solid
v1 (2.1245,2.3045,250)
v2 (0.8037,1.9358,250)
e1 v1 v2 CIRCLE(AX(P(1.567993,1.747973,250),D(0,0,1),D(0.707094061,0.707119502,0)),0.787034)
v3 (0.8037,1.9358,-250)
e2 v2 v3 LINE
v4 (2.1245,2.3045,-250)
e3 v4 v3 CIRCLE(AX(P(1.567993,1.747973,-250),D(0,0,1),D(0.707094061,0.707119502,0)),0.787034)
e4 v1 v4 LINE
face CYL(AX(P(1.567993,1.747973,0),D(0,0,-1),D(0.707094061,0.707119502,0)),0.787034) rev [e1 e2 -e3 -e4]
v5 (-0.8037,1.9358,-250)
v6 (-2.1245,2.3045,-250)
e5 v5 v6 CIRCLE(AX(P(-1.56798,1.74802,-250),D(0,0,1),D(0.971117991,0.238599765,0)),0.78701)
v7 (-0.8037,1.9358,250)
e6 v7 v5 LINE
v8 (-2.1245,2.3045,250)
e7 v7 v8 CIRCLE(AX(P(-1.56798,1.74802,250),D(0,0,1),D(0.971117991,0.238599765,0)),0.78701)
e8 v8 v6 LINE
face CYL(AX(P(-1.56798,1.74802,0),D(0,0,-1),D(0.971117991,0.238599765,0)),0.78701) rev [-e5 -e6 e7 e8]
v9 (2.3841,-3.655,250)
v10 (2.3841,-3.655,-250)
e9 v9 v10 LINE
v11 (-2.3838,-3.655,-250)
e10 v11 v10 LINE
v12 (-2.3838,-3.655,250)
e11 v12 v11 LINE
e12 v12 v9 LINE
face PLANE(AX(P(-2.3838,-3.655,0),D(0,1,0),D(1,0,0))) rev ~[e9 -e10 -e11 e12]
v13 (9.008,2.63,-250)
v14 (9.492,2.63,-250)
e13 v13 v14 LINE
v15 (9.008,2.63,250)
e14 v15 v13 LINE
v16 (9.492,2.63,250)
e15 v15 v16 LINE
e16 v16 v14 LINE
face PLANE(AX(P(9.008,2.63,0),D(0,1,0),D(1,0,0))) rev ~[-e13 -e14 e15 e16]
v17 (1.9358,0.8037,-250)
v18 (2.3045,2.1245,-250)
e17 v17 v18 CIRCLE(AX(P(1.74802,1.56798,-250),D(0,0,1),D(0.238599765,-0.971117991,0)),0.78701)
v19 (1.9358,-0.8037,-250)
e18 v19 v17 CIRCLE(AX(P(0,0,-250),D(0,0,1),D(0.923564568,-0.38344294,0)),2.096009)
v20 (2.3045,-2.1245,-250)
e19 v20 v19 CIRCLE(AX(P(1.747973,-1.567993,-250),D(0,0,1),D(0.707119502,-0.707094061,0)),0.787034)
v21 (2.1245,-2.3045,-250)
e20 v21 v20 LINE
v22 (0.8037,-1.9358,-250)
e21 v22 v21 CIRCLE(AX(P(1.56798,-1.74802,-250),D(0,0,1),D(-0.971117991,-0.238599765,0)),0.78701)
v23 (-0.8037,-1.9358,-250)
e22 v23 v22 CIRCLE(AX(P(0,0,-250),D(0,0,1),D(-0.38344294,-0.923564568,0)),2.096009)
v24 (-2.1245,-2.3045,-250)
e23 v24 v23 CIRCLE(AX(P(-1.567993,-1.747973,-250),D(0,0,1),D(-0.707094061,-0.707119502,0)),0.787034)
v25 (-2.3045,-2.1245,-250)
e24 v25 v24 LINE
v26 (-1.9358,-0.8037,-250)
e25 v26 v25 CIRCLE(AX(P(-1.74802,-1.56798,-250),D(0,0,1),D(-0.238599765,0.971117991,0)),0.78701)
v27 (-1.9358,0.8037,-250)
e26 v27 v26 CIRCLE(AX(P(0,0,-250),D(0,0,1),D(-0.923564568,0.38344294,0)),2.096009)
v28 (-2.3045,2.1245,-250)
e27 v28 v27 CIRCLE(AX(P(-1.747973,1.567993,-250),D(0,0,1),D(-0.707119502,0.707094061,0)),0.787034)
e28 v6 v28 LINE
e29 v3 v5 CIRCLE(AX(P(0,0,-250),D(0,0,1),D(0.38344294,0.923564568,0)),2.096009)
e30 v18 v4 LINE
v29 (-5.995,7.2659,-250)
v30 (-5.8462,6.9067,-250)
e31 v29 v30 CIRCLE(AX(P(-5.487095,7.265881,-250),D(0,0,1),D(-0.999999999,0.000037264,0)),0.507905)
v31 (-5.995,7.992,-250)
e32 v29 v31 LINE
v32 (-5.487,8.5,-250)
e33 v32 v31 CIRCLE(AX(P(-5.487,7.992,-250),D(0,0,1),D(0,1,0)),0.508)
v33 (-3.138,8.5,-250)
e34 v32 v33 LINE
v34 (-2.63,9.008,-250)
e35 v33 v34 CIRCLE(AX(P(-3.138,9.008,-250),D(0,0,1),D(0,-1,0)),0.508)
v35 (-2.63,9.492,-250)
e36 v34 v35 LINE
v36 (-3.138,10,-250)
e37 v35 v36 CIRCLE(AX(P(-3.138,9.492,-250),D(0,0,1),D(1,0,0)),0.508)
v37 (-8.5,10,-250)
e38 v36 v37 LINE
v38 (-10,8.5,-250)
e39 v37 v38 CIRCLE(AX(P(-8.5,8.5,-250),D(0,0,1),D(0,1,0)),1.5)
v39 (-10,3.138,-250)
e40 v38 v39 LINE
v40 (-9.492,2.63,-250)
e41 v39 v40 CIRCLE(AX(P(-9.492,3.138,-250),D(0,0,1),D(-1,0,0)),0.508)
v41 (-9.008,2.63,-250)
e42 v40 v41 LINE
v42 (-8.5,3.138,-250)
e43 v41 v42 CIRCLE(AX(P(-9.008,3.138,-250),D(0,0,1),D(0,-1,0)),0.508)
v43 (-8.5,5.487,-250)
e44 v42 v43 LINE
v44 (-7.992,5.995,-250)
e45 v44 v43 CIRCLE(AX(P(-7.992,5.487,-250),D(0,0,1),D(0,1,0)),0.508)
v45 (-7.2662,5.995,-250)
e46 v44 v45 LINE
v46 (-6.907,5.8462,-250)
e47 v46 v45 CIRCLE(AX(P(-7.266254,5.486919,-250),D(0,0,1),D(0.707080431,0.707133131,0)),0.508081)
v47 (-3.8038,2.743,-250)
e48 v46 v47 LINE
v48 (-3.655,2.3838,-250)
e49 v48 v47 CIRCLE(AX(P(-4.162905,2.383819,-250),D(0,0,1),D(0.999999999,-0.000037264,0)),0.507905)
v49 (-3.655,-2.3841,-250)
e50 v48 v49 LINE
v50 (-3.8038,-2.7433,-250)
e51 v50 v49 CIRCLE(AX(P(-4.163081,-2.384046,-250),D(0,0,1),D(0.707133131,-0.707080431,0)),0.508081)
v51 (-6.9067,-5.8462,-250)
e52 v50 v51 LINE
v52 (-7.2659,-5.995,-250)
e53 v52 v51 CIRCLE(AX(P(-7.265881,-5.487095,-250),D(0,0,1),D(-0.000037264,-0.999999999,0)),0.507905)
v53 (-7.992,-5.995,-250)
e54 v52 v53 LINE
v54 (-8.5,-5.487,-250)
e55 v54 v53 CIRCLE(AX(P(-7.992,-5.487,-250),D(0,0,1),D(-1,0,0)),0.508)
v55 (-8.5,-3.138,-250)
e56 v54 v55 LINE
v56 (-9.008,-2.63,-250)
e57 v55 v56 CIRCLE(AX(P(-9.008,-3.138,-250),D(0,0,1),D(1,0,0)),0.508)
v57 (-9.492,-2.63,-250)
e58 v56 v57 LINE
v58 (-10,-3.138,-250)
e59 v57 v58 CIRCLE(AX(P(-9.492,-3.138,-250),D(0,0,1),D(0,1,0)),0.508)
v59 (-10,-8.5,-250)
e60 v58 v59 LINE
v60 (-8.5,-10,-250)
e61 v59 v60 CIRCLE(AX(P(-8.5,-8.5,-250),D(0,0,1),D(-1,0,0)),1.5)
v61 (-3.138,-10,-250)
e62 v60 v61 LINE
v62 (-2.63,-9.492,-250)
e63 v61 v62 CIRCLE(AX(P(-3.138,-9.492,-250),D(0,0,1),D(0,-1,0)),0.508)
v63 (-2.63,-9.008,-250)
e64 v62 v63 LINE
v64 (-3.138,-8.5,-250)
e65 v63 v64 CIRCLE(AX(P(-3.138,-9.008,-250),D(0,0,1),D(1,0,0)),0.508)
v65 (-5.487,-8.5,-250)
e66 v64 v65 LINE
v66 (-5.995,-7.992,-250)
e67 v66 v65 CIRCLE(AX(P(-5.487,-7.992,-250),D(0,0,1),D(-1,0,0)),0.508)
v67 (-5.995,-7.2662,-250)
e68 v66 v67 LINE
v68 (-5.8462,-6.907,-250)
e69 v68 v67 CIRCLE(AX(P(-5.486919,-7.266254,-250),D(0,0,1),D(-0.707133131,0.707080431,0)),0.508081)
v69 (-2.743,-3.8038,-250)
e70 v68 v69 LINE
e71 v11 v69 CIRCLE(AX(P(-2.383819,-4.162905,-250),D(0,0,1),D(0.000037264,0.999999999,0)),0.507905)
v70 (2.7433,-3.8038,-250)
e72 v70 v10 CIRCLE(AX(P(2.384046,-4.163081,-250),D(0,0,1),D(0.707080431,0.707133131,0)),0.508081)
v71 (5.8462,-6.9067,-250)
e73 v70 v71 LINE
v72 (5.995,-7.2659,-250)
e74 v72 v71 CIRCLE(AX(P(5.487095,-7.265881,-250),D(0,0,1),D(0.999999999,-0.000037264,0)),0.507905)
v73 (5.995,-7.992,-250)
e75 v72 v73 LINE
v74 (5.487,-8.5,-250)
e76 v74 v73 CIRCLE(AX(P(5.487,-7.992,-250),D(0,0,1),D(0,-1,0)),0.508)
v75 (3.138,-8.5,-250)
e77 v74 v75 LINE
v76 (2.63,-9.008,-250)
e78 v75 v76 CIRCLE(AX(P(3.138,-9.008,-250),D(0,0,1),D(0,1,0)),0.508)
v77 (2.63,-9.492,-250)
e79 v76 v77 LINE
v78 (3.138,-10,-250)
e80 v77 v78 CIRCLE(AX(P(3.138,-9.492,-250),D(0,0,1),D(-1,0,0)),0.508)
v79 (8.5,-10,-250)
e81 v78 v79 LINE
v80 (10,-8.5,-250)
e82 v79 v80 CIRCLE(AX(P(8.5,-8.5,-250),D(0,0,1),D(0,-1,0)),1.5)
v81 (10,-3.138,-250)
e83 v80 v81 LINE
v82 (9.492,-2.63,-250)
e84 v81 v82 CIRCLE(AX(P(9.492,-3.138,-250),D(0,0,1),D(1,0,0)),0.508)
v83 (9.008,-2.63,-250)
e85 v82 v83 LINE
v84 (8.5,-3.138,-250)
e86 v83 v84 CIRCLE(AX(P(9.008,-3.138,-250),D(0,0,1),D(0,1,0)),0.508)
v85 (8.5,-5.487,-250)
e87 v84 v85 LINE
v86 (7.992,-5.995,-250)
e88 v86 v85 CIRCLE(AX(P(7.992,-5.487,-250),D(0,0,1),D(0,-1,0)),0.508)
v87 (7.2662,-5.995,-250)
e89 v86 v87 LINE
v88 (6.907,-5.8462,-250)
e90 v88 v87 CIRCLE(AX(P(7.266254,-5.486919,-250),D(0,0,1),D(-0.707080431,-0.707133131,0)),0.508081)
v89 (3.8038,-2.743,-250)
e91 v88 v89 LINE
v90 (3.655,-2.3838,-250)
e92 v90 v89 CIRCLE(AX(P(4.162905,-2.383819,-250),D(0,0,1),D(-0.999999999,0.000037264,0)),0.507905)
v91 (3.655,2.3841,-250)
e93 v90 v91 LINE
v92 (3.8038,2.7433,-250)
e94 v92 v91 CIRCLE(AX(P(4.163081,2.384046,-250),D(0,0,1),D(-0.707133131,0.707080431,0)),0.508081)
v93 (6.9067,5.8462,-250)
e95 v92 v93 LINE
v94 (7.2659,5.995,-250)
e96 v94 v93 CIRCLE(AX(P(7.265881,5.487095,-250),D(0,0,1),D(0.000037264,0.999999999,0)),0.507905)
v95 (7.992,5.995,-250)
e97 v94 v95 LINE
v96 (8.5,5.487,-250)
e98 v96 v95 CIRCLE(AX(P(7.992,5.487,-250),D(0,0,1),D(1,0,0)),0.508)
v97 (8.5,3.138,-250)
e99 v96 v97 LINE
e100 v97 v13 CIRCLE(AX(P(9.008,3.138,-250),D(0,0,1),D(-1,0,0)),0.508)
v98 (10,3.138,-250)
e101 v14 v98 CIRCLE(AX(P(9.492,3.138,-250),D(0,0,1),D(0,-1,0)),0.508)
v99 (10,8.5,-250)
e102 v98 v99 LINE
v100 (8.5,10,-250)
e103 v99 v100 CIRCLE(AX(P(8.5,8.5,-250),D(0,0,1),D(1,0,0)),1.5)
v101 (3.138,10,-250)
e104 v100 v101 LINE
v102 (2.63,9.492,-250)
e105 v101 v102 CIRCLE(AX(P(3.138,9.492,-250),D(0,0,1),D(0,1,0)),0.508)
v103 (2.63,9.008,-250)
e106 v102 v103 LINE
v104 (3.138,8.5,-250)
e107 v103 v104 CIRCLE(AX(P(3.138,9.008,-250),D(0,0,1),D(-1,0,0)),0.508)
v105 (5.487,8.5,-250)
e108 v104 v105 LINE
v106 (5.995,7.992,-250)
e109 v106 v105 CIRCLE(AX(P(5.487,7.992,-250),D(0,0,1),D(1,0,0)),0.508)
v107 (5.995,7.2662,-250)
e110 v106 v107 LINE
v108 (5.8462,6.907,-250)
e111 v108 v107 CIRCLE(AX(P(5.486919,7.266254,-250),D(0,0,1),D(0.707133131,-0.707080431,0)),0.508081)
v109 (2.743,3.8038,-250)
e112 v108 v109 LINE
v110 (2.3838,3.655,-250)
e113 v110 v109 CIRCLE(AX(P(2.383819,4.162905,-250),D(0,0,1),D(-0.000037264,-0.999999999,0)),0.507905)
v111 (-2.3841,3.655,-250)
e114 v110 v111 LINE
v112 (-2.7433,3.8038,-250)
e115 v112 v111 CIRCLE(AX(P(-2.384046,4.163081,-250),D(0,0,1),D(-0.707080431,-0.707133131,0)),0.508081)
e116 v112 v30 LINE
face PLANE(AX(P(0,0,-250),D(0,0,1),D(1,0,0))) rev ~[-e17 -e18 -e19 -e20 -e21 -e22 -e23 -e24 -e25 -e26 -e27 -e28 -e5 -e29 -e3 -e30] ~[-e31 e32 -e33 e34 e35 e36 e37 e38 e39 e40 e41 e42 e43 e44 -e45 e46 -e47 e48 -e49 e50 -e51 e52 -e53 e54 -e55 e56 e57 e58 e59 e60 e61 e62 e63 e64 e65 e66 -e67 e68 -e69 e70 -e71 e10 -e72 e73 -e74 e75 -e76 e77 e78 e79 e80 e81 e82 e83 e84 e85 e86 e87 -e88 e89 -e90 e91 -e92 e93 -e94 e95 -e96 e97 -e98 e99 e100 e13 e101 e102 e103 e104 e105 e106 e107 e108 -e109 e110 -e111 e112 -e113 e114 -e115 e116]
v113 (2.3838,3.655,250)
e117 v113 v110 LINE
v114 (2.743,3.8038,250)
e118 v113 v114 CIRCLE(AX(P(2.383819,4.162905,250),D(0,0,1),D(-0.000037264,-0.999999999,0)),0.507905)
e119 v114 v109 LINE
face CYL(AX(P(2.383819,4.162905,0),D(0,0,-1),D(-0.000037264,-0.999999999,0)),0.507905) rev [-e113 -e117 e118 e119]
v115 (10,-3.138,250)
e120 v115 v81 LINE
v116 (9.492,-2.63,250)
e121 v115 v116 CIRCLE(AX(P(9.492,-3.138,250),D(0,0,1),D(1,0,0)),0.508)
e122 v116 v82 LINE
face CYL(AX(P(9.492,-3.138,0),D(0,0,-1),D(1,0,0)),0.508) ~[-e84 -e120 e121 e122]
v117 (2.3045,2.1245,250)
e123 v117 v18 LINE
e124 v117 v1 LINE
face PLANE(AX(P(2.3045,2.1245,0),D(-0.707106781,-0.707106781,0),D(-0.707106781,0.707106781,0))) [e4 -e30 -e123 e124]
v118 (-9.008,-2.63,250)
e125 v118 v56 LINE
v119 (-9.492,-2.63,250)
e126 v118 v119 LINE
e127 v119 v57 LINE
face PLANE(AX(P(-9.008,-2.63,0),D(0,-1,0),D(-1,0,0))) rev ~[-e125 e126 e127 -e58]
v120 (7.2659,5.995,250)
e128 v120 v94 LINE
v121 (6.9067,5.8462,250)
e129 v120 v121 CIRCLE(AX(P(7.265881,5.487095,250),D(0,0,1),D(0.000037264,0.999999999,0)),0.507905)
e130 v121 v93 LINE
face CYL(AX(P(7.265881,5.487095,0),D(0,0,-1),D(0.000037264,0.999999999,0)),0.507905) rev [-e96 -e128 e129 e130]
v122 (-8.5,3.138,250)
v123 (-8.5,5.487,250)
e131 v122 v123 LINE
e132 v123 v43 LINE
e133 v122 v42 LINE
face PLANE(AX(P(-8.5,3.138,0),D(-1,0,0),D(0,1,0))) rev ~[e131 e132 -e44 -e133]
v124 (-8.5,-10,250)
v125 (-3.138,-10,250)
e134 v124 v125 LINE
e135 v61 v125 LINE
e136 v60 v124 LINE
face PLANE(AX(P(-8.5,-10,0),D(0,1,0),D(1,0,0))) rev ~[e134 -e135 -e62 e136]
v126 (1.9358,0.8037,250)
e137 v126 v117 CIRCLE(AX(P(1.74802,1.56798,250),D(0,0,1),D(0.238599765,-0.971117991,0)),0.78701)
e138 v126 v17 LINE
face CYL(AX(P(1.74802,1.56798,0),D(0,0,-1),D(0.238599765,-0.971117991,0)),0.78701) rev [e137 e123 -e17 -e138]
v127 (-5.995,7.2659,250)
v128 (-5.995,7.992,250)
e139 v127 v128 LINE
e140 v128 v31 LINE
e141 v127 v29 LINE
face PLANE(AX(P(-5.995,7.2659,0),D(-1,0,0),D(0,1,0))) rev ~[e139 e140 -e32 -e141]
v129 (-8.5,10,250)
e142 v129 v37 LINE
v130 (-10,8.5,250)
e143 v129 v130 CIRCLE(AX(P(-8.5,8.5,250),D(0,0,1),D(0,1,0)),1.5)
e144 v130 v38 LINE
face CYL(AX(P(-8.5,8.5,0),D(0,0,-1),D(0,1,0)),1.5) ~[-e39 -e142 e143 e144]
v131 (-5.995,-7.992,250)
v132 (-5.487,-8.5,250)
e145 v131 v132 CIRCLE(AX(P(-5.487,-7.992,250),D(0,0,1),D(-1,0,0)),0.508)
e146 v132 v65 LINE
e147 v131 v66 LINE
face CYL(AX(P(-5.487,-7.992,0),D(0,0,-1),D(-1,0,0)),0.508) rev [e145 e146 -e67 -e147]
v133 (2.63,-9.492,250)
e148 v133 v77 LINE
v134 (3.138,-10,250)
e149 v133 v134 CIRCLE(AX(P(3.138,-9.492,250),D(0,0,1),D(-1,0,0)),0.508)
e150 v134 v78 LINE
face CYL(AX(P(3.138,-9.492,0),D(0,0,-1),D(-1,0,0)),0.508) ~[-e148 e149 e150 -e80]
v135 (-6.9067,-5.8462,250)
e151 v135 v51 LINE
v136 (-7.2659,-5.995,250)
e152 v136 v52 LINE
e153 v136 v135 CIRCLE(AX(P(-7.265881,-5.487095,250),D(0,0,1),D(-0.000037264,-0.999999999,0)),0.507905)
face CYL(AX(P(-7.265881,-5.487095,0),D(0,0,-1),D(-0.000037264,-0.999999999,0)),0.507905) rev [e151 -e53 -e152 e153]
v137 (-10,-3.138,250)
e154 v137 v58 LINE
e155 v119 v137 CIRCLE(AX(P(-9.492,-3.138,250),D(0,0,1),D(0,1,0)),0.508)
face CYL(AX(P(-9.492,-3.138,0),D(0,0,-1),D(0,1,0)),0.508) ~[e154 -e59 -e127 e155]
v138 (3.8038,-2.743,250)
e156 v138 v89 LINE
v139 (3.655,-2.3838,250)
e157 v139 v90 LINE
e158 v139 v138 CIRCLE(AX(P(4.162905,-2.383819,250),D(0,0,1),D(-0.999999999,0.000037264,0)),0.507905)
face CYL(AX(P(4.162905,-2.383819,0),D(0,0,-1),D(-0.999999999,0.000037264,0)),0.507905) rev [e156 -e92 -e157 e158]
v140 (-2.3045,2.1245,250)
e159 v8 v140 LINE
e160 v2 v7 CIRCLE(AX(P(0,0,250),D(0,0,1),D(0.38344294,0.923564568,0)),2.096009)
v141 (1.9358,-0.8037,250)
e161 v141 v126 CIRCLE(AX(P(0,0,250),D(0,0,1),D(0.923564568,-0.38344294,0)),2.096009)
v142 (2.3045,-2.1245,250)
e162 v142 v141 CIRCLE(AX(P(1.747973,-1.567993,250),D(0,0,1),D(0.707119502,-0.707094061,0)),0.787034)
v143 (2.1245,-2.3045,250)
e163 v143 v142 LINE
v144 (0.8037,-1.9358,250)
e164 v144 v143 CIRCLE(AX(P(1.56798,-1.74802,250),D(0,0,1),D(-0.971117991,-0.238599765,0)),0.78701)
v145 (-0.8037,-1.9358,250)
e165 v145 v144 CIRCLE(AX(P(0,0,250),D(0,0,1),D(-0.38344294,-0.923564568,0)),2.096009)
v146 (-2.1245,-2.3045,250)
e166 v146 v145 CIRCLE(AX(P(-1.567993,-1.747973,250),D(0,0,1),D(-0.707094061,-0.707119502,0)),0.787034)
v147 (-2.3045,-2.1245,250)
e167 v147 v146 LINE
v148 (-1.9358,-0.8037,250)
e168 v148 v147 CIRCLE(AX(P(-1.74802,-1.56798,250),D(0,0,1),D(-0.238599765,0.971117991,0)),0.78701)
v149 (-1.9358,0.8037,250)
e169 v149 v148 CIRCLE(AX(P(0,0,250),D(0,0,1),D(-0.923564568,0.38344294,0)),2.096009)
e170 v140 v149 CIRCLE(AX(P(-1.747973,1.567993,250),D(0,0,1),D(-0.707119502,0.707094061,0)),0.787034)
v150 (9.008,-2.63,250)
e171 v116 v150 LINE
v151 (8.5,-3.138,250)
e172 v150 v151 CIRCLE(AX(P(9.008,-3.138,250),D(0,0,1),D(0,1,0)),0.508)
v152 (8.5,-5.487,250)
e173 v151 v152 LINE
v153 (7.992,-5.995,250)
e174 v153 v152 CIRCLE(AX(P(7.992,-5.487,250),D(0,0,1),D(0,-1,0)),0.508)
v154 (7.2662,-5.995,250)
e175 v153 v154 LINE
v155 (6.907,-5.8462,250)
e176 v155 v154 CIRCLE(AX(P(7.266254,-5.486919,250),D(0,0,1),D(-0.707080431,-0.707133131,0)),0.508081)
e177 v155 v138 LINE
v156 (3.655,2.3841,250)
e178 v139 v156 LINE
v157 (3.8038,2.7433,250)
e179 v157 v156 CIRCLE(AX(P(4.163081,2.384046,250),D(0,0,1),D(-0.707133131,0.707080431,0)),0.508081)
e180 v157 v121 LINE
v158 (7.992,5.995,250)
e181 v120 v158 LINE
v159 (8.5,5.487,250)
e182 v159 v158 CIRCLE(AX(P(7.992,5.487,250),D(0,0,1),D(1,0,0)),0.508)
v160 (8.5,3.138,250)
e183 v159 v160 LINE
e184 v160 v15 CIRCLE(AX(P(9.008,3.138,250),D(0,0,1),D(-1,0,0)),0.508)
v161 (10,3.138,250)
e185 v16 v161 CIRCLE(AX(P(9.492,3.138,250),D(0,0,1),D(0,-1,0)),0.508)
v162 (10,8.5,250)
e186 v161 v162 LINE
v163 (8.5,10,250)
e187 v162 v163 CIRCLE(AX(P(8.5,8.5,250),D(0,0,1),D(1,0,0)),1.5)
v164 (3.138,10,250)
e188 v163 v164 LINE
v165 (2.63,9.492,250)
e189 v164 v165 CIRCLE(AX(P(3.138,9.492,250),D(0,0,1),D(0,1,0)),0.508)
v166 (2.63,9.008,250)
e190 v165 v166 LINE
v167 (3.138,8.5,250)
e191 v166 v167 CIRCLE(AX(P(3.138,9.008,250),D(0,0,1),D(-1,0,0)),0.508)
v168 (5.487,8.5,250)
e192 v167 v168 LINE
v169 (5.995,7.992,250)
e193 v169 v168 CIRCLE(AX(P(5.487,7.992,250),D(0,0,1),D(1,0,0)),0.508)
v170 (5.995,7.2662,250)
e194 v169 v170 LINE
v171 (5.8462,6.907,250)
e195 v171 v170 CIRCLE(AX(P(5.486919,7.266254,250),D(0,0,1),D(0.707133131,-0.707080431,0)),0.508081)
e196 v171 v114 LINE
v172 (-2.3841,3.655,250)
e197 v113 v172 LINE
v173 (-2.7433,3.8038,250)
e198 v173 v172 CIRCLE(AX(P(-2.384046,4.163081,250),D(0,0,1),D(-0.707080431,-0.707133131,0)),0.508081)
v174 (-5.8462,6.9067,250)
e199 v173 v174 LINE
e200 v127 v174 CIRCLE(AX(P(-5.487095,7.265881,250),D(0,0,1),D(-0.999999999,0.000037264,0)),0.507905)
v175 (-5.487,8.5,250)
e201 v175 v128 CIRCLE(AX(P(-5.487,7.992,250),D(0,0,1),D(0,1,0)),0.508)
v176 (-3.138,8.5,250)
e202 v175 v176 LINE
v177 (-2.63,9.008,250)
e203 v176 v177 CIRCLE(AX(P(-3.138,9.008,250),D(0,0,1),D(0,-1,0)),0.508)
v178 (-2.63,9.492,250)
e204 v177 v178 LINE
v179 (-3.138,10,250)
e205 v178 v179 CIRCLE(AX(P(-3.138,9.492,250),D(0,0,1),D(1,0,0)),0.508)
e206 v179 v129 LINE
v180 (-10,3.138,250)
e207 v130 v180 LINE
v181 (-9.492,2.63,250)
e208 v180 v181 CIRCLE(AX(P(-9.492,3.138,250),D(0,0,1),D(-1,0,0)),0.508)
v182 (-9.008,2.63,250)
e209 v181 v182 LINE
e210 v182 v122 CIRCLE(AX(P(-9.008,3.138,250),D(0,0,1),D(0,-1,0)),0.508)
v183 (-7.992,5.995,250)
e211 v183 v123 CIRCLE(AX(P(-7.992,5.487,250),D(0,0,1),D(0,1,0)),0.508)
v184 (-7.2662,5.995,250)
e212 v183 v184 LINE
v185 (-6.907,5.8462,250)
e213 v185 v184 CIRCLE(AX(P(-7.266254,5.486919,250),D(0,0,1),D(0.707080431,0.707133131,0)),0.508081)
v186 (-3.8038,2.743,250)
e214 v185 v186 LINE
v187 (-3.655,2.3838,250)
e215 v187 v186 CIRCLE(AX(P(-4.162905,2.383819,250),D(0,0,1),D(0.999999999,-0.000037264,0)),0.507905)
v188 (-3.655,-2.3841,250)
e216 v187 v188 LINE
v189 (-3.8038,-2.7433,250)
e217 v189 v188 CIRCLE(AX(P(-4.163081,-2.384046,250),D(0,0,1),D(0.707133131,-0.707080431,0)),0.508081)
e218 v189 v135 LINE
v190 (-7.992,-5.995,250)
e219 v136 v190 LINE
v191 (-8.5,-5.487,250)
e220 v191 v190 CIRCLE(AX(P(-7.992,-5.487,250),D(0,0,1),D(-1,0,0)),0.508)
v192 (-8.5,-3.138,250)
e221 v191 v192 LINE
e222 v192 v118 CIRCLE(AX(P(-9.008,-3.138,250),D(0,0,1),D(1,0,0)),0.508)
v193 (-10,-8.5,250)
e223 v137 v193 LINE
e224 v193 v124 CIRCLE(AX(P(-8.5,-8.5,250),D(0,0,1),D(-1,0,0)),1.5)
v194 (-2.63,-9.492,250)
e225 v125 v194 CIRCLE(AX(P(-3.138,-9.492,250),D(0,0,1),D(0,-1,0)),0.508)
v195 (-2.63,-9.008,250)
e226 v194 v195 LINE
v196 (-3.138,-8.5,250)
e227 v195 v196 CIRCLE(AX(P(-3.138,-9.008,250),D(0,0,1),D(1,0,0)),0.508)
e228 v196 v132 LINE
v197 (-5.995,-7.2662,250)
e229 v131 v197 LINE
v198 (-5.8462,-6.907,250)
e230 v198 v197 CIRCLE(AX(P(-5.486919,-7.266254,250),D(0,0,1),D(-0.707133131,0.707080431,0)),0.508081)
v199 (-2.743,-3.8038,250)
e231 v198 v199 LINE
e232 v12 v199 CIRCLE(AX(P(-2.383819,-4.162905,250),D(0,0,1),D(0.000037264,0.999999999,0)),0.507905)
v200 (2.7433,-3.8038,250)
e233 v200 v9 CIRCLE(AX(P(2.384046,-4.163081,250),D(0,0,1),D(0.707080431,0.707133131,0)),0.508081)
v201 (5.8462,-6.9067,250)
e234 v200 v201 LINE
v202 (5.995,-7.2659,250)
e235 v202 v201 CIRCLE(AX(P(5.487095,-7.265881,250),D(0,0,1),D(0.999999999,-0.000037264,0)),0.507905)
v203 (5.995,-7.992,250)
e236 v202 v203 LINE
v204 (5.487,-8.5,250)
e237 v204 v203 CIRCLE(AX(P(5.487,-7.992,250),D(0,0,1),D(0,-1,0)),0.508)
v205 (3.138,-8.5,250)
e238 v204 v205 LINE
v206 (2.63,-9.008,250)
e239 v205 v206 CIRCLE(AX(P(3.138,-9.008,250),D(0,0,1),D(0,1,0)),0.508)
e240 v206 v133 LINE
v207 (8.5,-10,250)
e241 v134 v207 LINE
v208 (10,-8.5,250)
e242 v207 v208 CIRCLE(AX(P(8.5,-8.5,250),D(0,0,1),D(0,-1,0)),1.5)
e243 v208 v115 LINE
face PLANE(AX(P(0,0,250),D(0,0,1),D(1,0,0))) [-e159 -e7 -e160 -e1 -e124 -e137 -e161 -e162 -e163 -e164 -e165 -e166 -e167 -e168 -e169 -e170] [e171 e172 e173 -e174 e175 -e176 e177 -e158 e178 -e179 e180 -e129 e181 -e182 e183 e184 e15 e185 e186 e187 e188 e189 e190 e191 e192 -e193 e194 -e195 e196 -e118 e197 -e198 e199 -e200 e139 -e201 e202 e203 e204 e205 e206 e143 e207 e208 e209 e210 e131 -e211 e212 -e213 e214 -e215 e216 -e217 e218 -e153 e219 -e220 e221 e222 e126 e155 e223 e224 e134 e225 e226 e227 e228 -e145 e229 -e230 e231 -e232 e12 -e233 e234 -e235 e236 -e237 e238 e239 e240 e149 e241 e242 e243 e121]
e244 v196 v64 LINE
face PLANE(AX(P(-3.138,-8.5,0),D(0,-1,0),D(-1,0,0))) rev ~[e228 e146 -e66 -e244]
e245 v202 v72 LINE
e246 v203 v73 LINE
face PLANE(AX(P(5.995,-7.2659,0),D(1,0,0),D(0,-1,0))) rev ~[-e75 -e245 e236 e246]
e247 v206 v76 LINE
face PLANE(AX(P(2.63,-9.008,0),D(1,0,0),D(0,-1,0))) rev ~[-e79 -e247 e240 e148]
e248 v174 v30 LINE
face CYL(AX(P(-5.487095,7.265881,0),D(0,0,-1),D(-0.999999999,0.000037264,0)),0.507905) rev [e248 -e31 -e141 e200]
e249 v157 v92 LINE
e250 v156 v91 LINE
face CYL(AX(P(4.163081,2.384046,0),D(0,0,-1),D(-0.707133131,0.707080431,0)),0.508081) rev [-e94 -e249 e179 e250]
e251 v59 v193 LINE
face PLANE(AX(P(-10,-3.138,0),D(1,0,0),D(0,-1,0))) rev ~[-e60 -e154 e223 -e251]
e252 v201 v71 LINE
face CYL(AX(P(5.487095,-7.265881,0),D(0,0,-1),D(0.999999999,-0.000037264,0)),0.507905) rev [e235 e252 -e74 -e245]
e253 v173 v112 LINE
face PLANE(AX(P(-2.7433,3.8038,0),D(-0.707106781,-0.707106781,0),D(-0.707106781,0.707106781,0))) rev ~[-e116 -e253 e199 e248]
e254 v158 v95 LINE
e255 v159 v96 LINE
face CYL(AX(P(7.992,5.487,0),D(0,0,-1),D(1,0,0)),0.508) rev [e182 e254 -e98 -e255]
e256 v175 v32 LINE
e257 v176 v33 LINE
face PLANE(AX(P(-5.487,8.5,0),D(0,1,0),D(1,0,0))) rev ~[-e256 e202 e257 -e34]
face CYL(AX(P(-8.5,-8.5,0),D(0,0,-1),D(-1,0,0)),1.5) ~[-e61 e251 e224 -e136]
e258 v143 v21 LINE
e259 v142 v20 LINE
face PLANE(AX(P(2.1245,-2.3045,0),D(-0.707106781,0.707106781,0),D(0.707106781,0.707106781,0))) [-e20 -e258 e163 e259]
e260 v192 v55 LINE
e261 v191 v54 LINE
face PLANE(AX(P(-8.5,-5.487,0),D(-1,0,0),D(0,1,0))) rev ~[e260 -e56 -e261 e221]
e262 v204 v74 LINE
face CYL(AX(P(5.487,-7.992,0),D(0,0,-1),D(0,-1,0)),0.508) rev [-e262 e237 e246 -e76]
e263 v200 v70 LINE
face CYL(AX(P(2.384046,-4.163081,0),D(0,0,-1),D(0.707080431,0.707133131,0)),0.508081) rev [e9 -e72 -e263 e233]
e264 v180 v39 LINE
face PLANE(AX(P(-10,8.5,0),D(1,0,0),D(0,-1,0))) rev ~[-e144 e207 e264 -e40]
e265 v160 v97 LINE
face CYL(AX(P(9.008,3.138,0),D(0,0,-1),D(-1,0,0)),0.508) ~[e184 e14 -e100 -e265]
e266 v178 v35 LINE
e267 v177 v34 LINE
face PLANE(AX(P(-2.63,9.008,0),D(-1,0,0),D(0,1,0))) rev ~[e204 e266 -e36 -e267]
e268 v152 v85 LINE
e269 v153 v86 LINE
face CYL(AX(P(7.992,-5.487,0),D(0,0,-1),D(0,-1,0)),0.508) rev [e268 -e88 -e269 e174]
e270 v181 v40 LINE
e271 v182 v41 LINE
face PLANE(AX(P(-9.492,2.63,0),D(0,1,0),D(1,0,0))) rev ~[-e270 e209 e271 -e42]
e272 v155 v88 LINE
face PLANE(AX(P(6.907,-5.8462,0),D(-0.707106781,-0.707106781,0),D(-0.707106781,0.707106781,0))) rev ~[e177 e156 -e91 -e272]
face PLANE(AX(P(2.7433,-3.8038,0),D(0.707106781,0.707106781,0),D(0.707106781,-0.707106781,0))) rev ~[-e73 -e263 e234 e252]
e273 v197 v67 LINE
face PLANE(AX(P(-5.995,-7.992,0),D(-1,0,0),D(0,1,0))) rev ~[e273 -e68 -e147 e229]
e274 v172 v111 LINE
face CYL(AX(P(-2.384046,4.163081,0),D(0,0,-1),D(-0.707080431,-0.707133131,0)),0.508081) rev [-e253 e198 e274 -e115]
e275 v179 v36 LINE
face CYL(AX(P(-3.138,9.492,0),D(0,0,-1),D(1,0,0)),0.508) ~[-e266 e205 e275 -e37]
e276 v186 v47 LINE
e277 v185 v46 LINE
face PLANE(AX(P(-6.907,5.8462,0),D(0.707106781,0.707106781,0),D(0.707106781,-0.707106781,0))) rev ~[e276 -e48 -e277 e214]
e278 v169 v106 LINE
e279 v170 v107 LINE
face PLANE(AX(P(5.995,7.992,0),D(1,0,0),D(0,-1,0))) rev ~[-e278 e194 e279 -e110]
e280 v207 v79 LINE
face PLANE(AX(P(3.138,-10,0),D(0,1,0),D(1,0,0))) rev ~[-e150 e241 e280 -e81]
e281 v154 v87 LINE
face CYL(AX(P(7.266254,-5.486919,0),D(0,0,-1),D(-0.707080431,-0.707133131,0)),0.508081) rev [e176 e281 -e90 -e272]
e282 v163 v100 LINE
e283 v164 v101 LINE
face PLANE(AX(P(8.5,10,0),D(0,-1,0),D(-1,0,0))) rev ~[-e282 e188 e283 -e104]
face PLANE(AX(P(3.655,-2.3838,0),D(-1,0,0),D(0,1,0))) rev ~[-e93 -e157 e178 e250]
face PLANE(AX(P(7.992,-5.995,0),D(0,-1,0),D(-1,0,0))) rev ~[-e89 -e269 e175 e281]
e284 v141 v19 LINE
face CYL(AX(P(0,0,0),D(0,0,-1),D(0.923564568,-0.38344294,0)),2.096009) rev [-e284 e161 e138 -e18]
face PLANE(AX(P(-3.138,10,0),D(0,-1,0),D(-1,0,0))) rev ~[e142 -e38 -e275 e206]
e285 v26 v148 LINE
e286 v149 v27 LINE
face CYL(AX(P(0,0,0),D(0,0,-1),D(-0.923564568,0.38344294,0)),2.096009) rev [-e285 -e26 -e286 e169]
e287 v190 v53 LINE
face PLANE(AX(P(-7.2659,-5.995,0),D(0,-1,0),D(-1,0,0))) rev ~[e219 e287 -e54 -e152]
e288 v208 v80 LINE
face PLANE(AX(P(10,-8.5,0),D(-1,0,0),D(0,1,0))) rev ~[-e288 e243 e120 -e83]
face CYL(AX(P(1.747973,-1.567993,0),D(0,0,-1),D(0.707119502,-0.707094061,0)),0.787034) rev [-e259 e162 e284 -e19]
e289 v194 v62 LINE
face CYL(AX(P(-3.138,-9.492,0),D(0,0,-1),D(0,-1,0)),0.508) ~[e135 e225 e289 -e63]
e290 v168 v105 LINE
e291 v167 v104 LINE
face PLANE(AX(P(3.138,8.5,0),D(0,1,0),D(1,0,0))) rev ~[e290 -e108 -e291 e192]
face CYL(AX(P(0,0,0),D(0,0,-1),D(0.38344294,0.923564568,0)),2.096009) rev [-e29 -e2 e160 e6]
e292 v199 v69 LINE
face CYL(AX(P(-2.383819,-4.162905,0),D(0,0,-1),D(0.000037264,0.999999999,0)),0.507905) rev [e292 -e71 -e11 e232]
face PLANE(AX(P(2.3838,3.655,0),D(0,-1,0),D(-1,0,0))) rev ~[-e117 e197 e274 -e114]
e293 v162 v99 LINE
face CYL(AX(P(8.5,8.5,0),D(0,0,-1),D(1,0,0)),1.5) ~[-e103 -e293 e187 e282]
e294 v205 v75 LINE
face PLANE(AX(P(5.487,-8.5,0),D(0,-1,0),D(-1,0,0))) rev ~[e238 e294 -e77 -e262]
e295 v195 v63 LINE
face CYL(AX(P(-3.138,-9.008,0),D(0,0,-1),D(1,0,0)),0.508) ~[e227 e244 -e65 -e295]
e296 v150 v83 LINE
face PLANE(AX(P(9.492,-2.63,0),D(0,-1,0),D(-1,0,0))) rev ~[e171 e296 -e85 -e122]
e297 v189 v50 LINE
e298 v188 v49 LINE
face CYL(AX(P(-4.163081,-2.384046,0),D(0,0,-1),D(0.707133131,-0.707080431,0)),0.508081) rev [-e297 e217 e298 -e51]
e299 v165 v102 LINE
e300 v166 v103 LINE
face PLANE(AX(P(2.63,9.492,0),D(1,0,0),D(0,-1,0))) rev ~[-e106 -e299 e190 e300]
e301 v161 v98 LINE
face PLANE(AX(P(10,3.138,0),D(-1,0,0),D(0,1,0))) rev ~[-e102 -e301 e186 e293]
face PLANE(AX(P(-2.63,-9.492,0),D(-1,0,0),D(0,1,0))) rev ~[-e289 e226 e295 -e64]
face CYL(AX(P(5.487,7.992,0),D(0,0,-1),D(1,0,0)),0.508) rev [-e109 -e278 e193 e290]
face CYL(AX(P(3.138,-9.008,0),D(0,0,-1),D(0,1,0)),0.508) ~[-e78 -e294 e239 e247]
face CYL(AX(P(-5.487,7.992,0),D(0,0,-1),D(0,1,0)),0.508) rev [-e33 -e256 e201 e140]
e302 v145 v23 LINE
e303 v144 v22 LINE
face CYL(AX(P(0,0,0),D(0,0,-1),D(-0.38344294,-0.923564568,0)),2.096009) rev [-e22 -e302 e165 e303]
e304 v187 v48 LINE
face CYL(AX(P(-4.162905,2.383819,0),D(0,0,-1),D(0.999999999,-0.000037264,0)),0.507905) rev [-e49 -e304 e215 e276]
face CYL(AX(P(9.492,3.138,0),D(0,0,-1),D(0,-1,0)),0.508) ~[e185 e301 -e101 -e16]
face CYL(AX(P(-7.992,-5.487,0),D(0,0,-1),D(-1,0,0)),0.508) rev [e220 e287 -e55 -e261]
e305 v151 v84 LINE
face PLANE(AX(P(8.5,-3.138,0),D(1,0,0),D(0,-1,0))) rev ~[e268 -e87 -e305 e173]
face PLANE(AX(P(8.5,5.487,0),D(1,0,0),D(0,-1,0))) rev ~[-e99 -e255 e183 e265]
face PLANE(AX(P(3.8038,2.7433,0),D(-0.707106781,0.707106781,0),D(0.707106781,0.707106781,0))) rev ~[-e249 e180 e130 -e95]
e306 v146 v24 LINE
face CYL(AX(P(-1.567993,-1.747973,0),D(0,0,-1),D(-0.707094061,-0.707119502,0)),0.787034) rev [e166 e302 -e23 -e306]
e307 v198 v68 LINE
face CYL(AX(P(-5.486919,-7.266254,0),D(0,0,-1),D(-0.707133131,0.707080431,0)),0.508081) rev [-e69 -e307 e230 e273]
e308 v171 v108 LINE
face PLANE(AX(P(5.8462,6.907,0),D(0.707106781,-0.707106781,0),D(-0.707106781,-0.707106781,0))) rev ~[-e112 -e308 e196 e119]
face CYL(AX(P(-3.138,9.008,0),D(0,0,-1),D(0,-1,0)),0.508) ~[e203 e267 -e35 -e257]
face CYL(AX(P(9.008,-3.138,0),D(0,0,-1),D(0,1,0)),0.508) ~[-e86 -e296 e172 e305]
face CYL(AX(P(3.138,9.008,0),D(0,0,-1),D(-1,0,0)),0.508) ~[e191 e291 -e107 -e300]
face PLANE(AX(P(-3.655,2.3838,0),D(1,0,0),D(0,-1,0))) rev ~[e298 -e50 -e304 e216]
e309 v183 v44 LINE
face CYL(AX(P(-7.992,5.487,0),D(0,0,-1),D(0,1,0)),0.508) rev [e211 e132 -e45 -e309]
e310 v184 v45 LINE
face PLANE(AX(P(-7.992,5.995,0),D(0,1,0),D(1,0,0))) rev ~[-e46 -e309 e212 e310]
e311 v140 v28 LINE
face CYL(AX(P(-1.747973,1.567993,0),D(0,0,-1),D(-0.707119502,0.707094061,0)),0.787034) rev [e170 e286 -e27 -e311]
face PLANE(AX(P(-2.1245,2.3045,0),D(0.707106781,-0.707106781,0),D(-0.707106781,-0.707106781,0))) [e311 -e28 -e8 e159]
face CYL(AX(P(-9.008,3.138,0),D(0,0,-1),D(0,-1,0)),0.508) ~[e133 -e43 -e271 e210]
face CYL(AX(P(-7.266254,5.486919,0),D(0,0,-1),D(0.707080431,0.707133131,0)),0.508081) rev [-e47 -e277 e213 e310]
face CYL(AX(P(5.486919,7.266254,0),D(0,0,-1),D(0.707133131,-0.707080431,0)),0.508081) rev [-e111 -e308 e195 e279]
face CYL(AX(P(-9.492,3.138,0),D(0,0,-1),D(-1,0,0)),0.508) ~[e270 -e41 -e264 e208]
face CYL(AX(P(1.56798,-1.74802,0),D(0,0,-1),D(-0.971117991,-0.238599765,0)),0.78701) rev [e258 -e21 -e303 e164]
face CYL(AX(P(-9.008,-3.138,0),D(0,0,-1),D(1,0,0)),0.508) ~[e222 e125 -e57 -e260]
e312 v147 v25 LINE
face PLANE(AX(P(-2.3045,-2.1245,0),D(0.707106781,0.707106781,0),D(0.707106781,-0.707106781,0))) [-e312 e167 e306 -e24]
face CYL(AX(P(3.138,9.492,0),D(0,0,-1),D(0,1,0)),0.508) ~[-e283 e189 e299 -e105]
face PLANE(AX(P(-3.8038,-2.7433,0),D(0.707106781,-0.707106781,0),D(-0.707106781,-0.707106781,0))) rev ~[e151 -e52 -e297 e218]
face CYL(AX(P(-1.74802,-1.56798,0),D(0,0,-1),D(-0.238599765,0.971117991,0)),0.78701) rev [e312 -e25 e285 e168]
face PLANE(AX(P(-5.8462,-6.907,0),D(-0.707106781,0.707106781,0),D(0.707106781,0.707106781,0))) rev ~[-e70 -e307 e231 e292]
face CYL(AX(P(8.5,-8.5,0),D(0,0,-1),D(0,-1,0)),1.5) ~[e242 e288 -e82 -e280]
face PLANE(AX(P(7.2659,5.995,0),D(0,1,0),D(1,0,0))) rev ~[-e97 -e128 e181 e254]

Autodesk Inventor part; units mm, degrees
ref_plane "YZ Plane" through (0, 0, 0) normal (1, 0, 0) x (0, 1, 0)
ref_plane "XZ Plane" through (0, 0, 0) normal (0, 1, 0) x (-1, 0, 0)
ref_plane "XY Plane" through (0, 0, 0) normal (0, 0, 1) x (1, 0, 0)
sketch "Sketch1" plane through (0, 0, 0) normal (0, 0, 1) x (1, 0, 0)
  arc A0 (-10, -8.5) -> (-8.5, -10) centre (-8.5, -8.5) ccw
  line L0 (-8.5, -10) -> (-3.138, -10)
  arc A1 (-3.138, -10) -> (-2.63, -9.492) centre (-3.138, -9.492) ccw
  line L1 (-2.63, -9.492) -> (-2.63, -9.008)
  arc A2 (-2.63, -9.008) -> (-3.138, -8.5) centre (-3.138, -9.008) ccw
  line L2 (-3.138, -8.5) -> (-5.487, -8.5)
  arc A3 (-5.995, -7.992) -> (-5.487, -8.5) centre (-5.487, -7.992) ccw
  line L3 (-5.995, -7.992) -> (-5.995, -7.2662)
  arc A4 (-5.8462, -6.907) -> (-5.995, -7.2662) centre (-5.487, -7.2662) ccw
  line L4 (-5.8462, -6.907) -> (-2.743, -3.8038)
  arc A5 (-2.3838, -3.655) -> (-2.743, -3.8038) centre (-2.3838, -4.163) ccw
  line L5 (-2.3838, -3.655) -> (2.3841, -3.655)
  arc A6 (2.7433, -3.8038) -> (2.3841, -3.655) centre (2.3841, -4.163) ccw
  line L6 (2.7433, -3.8038) -> (5.8462, -6.9067)
  arc A7 (5.995, -7.2659) -> (5.8462, -6.9067) centre (5.487, -7.2659) ccw
  line L7 (5.995, -7.2659) -> (5.995, -7.992)
  arc A8 (5.487, -8.5) -> (5.995, -7.992) centre (5.487, -7.992) ccw
  line L8 (5.487, -8.5) -> (3.138, -8.5)
  arc A9 (3.138, -8.5) -> (2.63, -9.008) centre (3.138, -9.008) ccw
  line L9 (2.63, -9.008) -> (2.63, -9.492)
  arc A10 (2.63, -9.492) -> (3.138, -10) centre (3.138, -9.492) ccw
  line L10 (3.138, -10) -> (8.5, -10)
  arc A11 (8.5, -10) -> (10, -8.5) centre (8.5, -8.5) ccw
  line L11 (10, -8.5) -> (10, -3.138)
  arc A12 (10, -3.138) -> (9.492, -2.63) centre (9.492, -3.138) ccw
  line L12 (9.492, -2.63) -> (9.008, -2.63)
  arc A13 (9.008, -2.63) -> (8.5, -3.138) centre (9.008, -3.138) ccw
  line L13 (8.5, -3.138) -> (8.5, -5.487)
  arc A14 (7.992, -5.995) -> (8.5, -5.487) centre (7.992, -5.487) ccw
  line L14 (7.992, -5.995) -> (7.2662, -5.995)
  arc A15 (6.907, -5.8462) -> (7.2662, -5.995) centre (7.2662, -5.487) ccw
  line L15 (6.907, -5.8462) -> (3.8038, -2.743)
  arc A16 (3.655, -2.3838) -> (3.8038, -2.743) centre (4.163, -2.3838) ccw
  line L16 (3.655, -2.3838) -> (3.655, 2.3841)
  arc A17 (3.8038, 2.7433) -> (3.655, 2.3841) centre (4.163, 2.3841) ccw
  line L17 (3.8038, 2.7433) -> (6.9067, 5.8462)
  arc A18 (7.2659, 5.995) -> (6.9067, 5.8462) centre (7.2659, 5.487) ccw
  line L18 (7.2659, 5.995) -> (7.992, 5.995)
  arc A19 (8.5, 5.487) -> (7.992, 5.995) centre (7.992, 5.487) ccw
  line L19 (8.5, 5.487) -> (8.5, 3.138)
  arc A20 (8.5, 3.138) -> (9.008, 2.63) centre (9.008, 3.138) ccw
  line L20 (9.008, 2.63) -> (9.492, 2.63)
  arc A21 (9.492, 2.63) -> (10, 3.138) centre (9.492, 3.138) ccw
  line L21 (10, 3.138) -> (10, 8.5)
  arc A22 (10, 8.5) -> (8.5, 10) centre (8.5, 8.5) ccw
  line L22 (8.5, 10) -> (3.138, 10)
  arc A23 (3.138, 10) -> (2.63, 9.492) centre (3.138, 9.492) ccw
  line L23 (2.63, 9.492) -> (2.63, 9.008)
  arc A24 (2.63, 9.008) -> (3.138, 8.5) centre (3.138, 9.008) ccw
  line L24 (3.138, 8.5) -> (5.487, 8.5)
  arc A25 (5.995, 7.992) -> (5.487, 8.5) centre (5.487, 7.992) ccw
  line L25 (5.995, 7.992) -> (5.995, 7.2662)
  arc A26 (5.8462, 6.907) -> (5.995, 7.2662) centre (5.487, 7.2662) ccw
  line L26 (5.8462, 6.907) -> (2.743, 3.8038)
  arc A27 (2.3838, 3.655) -> (2.743, 3.8038) centre (2.3838, 4.163) ccw
  line L27 (2.3838, 3.655) -> (-2.3841, 3.655)
  arc A28 (-2.7433, 3.8038) -> (-2.3841, 3.655) centre (-2.3841, 4.163) ccw
  line L28 (-2.7433, 3.8038) -> (-5.8462, 6.9067)
  arc A29 (-5.995, 7.2659) -> (-5.8462, 6.9067) centre (-5.487, 7.2659) ccw
  line L29 (-5.995, 7.2659) -> (-5.995, 7.992)
  arc A30 (-5.487, 8.5) -> (-5.995, 7.992) centre (-5.487, 7.992) ccw
  line L30 (-5.487, 8.5) -> (-3.138, 8.5)
  arc A31 (-3.138, 8.5) -> (-2.63, 9.008) centre (-3.138, 9.008) ccw
  line L31 (-2.63, 9.008) -> (-2.63, 9.492)
  arc A32 (-2.63, 9.492) -> (-3.138, 10) centre (-3.138, 9.492) ccw
  line L32 (-3.138, 10) -> (-8.5, 10)
  arc A33 (-8.5, 10) -> (-10, 8.5) centre (-8.5, 8.5) ccw
  line L33 (-10, 8.5) -> (-10, 3.138)
  arc A34 (-10, 3.138) -> (-9.492, 2.63) centre (-9.492, 3.138) ccw
  line L34 (-9.492, 2.63) -> (-9.008, 2.63)
  arc A35 (-9.008, 2.63) -> (-8.5, 3.138) centre (-9.008, 3.138) ccw
  line L35 (-8.5, 3.138) -> (-8.5, 5.487)
  arc A36 (-7.992, 5.995) -> (-8.5, 5.487) centre (-7.992, 5.487) ccw
  line L36 (-7.992, 5.995) -> (-7.2662, 5.995)
  arc A37 (-6.907, 5.8462) -> (-7.2662, 5.995) centre (-7.2662, 5.487) ccw
  line L37 (-6.907, 5.8462) -> (-3.8038, 2.743)
  arc A38 (-3.655, 2.3838) -> (-3.8038, 2.743) centre (-4.163, 2.3838) ccw
  line L38 (-3.655, 2.3838) -> (-3.655, -2.3841)
  arc A39 (-3.8038, -2.7433) -> (-3.655, -2.3841) centre (-4.163, -2.3841) ccw
  line L39 (-3.8038, -2.7433) -> (-6.9067, -5.8462)
  arc A40 (-7.2659, -5.995) -> (-6.9067, -5.8462) centre (-7.2659, -5.487) ccw
  line L40 (-7.2659, -5.995) -> (-7.992, -5.995)
  arc A41 (-8.5, -5.487) -> (-7.992, -5.995) centre (-7.992, -5.487) ccw
  line L41 (-8.5, -5.487) -> (-8.5, -3.138)
  arc A42 (-8.5, -3.138) -> (-9.008, -2.63) centre (-9.008, -3.138) ccw
  line L42 (-9.008, -2.63) -> (-9.492, -2.63)
  arc A43 (-9.492, -2.63) -> (-10, -3.138) centre (-9.492, -3.138) ccw
  line L43 (-10, -3.138) -> (-10, -8.5)
  arc A44 (-1.9358, -0.8037) -> (-2.3045, -2.1245) centre (-1.748, -1.568) ccw
  line L44 (-2.3045, -2.1245) -> (-2.1245, -2.3045)
  arc A45 (-2.1245, -2.3045) -> (-0.8037, -1.9358) centre (-1.568, -1.748) ccw
  arc A46 (-0.8037, -1.9358) -> (0.8037, -1.9358) centre (0, 0) ccw
  arc A47 (0.8037, -1.9358) -> (2.1245, -2.3045) centre (1.568, -1.748) ccw
  line L45 (2.1245, -2.3045) -> (2.3045, -2.1245)
  arc A48 (2.3045, -2.1245) -> (1.9358, -0.8037) centre (1.748, -1.568) ccw
  arc A49 (1.9358, -0.8037) -> (1.9358, 0.8037) centre (0, 0) ccw
  arc A50 (1.9358, 0.8037) -> (2.3045, 2.1245) centre (1.748, 1.568) ccw
  line L46 (2.3045, 2.1245) -> (2.1245, 2.3045)
  arc A51 (2.1245, 2.3045) -> (0.8037, 1.9358) centre (1.568, 1.748) ccw
  arc A52 (0.8037, 1.9358) -> (-0.8037, 1.9358) centre (0, 0) ccw
  arc A53 (-0.8037, 1.9358) -> (-2.1245, 2.3045) centre (-1.568, 1.748) ccw
  line L47 (-2.1245, 2.3045) -> (-2.3045, 2.1245)
  arc A54 (-2.3045, 2.1245) -> (-1.9358, 0.8037) centre (-1.748, 1.568) ccw
  arc A55 (-1.9358, 0.8037) -> (-1.9358, -0.8037) centre (0, 0) ccw
  point P0 (0, 0)
extrude "Extrusion1" add sketch "Sketch1" along normal mid plane 500
properties part number "20-2020-285"
